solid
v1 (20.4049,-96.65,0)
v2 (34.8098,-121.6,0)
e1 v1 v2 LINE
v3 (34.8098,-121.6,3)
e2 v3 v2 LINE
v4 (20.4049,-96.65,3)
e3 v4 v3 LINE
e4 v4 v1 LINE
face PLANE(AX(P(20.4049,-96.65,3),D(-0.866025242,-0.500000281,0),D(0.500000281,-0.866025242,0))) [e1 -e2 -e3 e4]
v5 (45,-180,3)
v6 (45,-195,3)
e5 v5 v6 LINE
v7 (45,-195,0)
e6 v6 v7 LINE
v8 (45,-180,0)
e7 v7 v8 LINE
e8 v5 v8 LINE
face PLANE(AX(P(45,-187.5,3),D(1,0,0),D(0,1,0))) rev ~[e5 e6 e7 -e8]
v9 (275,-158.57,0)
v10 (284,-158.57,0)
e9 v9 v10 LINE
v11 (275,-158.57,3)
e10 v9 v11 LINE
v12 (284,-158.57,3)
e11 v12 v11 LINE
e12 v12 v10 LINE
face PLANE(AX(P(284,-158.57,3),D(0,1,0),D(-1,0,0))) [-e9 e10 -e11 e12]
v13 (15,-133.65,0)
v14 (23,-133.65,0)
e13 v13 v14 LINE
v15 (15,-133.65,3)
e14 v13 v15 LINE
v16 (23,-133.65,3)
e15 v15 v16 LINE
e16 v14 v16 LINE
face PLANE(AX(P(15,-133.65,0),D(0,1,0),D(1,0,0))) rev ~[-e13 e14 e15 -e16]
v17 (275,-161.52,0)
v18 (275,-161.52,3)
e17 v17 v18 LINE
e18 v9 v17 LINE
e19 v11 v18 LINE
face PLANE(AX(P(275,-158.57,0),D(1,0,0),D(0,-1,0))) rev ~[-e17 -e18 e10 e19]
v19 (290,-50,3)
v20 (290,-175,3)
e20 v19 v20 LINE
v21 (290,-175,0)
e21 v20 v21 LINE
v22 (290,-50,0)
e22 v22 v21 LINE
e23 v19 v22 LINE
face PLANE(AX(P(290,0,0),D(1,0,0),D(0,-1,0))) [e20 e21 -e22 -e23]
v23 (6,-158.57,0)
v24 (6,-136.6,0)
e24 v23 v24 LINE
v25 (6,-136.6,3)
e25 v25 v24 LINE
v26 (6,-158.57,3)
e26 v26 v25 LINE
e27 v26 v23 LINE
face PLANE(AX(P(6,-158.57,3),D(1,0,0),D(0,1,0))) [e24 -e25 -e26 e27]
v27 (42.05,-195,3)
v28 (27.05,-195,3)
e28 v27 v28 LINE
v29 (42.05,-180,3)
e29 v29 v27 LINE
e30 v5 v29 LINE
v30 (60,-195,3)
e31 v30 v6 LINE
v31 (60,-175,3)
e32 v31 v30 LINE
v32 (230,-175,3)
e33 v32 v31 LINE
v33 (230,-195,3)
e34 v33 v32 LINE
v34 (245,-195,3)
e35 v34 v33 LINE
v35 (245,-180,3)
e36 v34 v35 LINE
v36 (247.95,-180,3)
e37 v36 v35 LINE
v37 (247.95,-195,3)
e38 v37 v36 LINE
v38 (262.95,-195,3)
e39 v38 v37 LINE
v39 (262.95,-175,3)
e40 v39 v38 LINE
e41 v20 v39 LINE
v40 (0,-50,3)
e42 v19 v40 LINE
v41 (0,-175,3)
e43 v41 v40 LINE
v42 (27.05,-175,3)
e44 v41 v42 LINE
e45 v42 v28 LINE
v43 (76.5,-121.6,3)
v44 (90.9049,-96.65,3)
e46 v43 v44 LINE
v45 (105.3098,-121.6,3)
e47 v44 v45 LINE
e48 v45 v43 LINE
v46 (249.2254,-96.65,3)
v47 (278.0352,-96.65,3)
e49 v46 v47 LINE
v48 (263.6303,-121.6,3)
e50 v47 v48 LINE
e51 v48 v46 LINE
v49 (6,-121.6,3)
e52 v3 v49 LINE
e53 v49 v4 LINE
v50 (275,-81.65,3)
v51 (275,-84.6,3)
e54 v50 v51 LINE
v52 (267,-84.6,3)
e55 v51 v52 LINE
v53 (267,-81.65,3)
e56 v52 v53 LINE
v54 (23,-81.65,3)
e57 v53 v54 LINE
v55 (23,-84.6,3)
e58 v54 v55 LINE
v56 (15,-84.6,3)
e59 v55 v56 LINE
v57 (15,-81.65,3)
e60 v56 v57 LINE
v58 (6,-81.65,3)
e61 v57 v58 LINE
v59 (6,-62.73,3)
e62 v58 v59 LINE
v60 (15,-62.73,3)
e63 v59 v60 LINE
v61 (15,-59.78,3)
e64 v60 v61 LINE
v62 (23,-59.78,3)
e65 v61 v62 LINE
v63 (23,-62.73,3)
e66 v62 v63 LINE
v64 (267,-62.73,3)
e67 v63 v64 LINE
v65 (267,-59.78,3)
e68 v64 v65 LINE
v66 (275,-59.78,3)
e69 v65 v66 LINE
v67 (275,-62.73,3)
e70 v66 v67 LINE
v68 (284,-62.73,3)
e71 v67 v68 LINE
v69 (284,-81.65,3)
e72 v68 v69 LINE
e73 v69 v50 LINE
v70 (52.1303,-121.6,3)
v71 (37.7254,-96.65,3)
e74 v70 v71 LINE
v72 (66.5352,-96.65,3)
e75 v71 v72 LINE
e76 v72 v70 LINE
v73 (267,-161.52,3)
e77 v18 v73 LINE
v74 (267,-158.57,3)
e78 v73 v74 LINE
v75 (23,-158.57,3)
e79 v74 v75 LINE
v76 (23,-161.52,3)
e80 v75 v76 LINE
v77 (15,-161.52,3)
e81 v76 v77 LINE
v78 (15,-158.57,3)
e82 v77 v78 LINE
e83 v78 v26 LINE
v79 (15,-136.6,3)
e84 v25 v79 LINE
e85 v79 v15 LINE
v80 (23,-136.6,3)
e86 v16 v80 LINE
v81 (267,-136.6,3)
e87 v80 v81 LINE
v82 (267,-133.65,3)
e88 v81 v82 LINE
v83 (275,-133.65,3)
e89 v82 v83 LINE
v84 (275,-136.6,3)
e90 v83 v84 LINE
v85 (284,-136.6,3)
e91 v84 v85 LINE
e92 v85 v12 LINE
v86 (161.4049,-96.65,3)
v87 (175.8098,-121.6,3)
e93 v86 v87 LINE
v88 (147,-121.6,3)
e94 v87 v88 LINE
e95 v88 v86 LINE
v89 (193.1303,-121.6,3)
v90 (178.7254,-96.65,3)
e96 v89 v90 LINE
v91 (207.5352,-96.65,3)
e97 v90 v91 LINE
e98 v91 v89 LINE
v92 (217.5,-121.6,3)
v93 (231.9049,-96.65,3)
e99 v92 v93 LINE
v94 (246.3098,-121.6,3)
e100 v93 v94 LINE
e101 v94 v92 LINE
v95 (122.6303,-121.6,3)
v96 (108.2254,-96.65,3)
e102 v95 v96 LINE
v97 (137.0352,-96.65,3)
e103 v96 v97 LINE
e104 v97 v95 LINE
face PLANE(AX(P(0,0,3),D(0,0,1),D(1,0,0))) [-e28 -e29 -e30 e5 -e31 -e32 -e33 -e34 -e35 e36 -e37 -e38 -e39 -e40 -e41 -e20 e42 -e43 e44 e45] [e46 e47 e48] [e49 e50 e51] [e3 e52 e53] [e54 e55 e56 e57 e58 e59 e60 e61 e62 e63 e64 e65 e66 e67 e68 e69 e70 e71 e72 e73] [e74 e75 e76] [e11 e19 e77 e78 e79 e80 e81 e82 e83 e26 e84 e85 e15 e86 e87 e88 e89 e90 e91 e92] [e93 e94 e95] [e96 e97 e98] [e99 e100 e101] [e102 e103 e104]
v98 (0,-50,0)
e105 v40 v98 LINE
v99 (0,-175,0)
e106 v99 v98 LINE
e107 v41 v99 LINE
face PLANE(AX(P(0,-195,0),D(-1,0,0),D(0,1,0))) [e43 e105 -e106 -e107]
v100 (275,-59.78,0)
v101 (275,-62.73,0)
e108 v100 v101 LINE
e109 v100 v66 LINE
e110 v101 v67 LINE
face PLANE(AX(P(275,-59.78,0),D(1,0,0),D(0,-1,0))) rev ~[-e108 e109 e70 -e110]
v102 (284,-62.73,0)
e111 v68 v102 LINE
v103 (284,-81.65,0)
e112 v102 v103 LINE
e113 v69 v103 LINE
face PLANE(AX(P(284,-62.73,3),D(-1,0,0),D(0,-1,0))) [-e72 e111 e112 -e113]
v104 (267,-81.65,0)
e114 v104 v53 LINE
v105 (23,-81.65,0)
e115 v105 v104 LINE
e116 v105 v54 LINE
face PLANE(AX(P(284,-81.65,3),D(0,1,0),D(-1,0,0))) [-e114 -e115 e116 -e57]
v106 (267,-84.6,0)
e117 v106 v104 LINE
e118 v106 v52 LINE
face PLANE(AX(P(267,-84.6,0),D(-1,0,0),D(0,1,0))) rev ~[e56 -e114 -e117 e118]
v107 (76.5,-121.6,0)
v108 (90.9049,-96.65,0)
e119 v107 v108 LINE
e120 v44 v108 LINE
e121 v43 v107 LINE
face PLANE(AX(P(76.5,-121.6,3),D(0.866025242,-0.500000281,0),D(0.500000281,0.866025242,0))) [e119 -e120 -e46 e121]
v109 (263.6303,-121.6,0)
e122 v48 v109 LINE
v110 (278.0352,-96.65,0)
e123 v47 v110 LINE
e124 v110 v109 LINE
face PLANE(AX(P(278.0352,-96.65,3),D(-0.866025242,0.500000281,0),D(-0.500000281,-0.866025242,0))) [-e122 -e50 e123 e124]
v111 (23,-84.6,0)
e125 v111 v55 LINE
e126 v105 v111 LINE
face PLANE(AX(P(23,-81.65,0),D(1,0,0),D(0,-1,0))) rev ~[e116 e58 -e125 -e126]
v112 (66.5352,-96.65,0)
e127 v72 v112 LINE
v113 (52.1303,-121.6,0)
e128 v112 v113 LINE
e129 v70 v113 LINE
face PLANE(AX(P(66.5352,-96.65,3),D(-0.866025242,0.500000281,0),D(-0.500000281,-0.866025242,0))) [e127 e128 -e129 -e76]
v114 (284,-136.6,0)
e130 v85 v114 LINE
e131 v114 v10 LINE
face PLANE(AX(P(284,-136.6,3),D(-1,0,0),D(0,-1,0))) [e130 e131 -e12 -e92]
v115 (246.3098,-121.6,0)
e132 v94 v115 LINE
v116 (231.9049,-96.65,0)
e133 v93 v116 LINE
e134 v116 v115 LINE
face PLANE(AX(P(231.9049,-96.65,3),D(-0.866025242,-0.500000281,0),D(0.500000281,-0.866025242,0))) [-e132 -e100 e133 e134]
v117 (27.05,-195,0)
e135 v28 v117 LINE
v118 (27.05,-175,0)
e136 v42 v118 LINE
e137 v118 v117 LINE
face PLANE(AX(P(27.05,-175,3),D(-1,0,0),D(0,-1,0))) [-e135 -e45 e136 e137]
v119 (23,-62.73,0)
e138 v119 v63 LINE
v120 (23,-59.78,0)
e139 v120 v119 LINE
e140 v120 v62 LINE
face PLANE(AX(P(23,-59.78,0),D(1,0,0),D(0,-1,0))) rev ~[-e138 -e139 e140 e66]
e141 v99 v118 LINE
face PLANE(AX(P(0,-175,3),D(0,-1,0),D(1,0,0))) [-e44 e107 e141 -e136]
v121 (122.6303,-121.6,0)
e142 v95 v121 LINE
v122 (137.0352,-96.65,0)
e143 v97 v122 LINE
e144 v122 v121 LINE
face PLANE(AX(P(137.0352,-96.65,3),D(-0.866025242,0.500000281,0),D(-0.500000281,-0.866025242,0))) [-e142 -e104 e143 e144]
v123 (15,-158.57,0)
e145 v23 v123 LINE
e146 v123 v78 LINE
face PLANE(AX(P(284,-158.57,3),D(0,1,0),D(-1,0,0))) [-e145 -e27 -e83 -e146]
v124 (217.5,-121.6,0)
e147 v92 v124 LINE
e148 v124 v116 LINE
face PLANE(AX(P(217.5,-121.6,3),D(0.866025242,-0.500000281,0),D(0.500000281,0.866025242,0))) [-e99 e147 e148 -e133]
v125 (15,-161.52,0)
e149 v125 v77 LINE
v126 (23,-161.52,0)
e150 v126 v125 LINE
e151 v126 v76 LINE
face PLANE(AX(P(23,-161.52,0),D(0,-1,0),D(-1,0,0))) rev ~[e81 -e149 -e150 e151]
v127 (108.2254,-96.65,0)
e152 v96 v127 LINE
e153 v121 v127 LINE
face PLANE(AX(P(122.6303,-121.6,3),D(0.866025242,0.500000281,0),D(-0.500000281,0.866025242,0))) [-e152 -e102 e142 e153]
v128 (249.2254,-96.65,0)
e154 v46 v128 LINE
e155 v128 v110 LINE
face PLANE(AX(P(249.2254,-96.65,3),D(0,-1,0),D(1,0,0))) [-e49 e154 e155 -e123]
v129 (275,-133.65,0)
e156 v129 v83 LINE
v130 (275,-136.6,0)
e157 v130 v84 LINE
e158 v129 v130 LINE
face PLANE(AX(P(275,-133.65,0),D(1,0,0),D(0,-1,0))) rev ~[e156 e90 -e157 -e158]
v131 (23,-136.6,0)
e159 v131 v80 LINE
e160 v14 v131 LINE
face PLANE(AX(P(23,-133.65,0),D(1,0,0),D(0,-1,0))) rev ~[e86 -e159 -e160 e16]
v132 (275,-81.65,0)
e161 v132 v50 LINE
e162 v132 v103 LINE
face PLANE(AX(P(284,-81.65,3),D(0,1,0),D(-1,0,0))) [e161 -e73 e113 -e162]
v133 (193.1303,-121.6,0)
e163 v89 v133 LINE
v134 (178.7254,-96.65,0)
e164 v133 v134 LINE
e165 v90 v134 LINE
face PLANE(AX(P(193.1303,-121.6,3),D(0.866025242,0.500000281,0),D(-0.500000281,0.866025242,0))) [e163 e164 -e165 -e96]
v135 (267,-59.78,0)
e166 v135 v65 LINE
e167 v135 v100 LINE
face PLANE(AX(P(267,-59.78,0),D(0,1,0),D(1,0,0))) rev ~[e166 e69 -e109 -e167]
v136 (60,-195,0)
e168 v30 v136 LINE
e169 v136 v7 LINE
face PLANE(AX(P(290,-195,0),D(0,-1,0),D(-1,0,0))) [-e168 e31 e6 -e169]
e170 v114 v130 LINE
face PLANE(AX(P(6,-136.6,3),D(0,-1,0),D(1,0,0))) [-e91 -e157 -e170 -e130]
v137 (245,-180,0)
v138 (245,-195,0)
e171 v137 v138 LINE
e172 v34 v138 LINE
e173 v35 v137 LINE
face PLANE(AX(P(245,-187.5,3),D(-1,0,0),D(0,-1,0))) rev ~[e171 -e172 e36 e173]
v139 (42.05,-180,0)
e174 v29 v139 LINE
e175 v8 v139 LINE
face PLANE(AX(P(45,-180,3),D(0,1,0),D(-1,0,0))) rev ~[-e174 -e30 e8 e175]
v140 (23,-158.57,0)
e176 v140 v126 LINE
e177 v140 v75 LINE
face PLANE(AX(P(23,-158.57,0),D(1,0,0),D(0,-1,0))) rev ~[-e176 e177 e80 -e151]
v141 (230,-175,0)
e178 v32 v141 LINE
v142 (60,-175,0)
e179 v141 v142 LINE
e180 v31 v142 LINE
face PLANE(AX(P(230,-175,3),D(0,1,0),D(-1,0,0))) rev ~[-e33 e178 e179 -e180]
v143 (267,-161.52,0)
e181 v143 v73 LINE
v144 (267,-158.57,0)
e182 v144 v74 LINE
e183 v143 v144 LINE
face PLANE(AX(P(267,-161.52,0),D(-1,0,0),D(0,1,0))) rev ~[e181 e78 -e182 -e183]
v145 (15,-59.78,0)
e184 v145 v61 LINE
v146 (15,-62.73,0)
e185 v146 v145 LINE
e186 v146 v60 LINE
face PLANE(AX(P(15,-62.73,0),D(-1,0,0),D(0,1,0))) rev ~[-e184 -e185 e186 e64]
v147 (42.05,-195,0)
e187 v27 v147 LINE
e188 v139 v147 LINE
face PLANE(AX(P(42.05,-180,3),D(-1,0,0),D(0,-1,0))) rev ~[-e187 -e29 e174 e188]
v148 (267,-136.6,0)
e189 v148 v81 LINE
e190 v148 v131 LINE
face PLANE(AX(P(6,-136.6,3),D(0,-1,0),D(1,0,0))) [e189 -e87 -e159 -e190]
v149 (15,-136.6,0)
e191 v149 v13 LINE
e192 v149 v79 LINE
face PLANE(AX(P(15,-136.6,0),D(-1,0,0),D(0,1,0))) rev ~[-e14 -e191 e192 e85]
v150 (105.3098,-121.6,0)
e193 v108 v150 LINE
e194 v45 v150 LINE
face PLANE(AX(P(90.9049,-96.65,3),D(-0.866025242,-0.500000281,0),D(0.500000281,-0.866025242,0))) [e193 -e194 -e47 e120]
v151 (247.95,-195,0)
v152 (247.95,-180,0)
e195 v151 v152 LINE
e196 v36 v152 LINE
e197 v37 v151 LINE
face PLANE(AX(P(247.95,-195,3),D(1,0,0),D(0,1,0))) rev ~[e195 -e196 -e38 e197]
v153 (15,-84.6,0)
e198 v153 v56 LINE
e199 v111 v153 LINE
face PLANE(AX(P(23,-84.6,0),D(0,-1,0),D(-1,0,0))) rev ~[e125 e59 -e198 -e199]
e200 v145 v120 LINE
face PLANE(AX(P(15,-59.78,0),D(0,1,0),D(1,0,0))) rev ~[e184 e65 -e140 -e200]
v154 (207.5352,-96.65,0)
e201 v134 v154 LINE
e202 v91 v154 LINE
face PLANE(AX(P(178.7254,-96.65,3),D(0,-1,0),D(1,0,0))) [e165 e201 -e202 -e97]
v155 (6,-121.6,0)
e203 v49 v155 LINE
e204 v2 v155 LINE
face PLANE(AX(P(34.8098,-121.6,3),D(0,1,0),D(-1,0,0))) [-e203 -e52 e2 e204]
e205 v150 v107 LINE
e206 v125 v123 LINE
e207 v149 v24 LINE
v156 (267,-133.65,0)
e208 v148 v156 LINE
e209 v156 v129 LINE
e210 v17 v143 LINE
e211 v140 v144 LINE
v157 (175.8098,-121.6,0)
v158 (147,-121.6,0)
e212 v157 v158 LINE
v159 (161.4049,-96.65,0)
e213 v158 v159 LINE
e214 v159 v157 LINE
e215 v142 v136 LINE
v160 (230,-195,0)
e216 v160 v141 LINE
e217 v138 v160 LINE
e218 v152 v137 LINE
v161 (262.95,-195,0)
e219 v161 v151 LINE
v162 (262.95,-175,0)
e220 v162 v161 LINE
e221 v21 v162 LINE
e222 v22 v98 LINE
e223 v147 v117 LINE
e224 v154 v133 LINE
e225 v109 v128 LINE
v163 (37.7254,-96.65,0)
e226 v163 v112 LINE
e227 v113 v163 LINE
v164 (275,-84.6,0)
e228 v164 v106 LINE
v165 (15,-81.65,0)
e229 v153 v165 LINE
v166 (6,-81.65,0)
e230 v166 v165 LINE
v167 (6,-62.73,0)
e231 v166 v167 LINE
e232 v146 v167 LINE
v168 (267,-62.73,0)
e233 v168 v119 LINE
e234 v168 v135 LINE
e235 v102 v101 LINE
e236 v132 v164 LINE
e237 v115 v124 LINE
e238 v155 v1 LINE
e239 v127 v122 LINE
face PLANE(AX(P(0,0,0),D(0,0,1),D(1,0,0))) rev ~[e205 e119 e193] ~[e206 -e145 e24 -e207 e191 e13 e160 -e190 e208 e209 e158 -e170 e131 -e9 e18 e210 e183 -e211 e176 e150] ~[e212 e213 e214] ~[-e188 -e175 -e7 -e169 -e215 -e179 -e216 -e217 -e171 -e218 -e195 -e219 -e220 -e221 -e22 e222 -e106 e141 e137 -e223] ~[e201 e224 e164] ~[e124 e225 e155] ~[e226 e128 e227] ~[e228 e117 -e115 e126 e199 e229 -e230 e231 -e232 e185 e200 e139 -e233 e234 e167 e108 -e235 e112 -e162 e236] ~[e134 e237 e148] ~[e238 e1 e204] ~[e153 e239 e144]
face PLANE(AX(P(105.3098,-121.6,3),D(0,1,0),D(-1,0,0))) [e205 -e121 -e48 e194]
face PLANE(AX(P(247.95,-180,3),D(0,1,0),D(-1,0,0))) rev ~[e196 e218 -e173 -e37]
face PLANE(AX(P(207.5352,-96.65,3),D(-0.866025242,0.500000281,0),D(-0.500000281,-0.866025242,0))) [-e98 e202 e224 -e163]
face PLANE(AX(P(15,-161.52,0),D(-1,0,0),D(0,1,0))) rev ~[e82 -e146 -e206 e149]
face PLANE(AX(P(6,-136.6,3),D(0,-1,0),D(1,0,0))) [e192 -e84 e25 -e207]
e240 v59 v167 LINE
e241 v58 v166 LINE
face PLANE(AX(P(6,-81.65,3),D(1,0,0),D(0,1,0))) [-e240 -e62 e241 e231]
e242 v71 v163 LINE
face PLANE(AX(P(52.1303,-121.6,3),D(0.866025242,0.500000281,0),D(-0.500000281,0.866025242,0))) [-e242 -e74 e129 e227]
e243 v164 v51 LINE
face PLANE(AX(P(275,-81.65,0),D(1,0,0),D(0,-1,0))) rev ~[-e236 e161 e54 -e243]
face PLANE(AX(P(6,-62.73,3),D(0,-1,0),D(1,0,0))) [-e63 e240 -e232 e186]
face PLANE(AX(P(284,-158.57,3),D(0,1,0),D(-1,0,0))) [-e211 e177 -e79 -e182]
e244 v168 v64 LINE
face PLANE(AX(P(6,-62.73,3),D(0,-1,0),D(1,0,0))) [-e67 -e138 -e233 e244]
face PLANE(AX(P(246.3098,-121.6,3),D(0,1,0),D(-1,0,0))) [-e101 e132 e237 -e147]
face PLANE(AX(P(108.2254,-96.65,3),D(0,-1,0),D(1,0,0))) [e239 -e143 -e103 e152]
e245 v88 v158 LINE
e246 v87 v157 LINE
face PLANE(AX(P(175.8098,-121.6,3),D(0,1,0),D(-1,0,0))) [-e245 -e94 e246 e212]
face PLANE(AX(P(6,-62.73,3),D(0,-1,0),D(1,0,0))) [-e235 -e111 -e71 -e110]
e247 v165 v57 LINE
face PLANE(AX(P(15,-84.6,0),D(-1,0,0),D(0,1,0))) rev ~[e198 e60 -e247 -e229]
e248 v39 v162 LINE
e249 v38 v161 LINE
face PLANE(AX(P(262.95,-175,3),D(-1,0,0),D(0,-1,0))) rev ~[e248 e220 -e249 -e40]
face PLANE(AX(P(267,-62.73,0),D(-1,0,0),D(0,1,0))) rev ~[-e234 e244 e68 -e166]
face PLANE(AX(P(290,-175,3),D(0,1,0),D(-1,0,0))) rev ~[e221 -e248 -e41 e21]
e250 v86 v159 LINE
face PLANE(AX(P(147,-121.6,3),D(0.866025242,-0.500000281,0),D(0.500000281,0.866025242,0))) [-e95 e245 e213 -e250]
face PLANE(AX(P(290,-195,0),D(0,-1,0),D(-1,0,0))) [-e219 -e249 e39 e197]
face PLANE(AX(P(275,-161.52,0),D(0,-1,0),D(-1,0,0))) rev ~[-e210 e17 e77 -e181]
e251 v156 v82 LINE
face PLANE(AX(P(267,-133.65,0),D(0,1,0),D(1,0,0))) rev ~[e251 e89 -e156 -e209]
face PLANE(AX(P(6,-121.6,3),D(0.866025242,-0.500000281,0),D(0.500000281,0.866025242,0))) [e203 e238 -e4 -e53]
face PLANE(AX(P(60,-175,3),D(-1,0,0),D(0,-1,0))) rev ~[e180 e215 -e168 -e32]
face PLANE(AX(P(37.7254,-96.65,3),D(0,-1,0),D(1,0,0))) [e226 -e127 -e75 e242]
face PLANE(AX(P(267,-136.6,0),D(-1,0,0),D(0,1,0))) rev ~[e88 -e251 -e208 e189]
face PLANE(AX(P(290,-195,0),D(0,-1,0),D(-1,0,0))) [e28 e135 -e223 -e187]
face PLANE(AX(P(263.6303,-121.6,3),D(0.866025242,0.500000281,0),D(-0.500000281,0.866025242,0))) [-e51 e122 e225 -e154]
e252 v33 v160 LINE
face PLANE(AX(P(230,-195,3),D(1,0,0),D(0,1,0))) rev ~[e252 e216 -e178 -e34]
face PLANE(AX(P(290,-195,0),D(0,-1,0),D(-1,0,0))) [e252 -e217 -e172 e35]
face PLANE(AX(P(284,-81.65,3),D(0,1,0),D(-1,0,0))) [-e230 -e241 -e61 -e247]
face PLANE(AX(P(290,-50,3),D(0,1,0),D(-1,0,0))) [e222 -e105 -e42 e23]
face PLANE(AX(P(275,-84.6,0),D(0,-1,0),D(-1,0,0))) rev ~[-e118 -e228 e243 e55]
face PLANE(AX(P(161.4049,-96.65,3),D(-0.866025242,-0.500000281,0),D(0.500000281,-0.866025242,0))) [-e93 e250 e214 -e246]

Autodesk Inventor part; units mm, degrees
ref_plane "YZ Plane" through (0, 0, 0) normal (1, 0, 0) x (0, 1, 0)
ref_plane "XZ Plane" through (0, 0, 0) normal (0, 1, 0) x (-1, 0, 0)
ref_plane "XY Plane" through (0, 0, 0) normal (0, 0, 1) x (1, 0, 0)
sketch "草圖1" plane through (0, 0, 0) normal (0, 0, 1) x (1, 0, 0)
  line L0 (0, 0) -> (290, 0)
  line L1 (290, 0) -> (290, -195)
  line L2 (290, -195) -> (0, -195)
  line L3 (0, -195) -> (0, 0)
  line L4 (15, -59.78) -> (23, -59.78)
  line L5 (23, -59.78) -> (23, -62.73)
  line L6 (23, -62.73) -> (15, -62.73)
  line L7 (15, -62.73) -> (15, -59.78)
  line L8 (15, -81.65) -> (23, -81.65)
  line L9 (23, -81.65) -> (23, -84.6)
  line L10 (23, -84.6) -> (15, -84.6)
  line L11 (15, -84.6) -> (15, -81.65)
  line L12 (15, -133.65) -> (23, -133.65)
  line L13 (23, -133.65) -> (23, -136.6)
  line L14 (23, -136.6) -> (15, -136.6)
  line L15 (15, -136.6) -> (15, -133.65)
  line L16 (15, -158.57) -> (23, -158.57)
  line L17 (23, -158.57) -> (23, -161.52)
  line L18 (23, -161.52) -> (15, -161.52)
  line L19 (15, -161.52) -> (15, -158.57)
  line L20 (275, -81.65) -> (275, -84.6)
  line L21 (275, -59.78) -> (275, -62.73)
  line L22 (267, -81.65) -> (275, -81.65)
  line L23 (275, -62.73) -> (267, -62.73)
  line L24 (267, -59.78) -> (275, -59.78)
  line L25 (275, -84.6) -> (267, -84.6)
  line L26 (267, -84.6) -> (267, -81.65)
  line L27 (267, -62.73) -> (267, -59.78)
  line L28 (267, -133.65) -> (275, -133.65)
  line L29 (275, -133.65) -> (275, -136.6)
  line L30 (267, -136.6) -> (267, -133.65)
  line L31 (275, -136.6) -> (267, -136.6)
  line L32 (267, -158.57) -> (275, -158.57)
  line L33 (275, -158.57) -> (275, -161.52)
  line L34 (275, -161.52) -> (267, -161.52)
  line L35 (267, -161.52) -> (267, -158.57)
  line L36 (0, -97.5) -> (290, -97.5) construction
  line L37 (19, -84.6) -> (19, -133.65) construction
  line L38 (145, 0) -> (145, -195) construction
  line L39 (23, -83.125) -> (267, -83.125) construction
  point P0 (15, -83.125)
  point P1 (15, -61.255)
  point P2 (15, -135.125)
  point P3 (15, -160.045)
  point P4 (267, -61.255)
  point P5 (267, -135.125)
  point P6 (267, -160.045)
  point P7 (145, -83.125)
  dimension "d0" = 2.95
  dimension "d1" = 8
  dimension "d3" = 52
  dimension "d5" = 195
  dimension "d6" = 290
  dimension "d9" = 252
  dimension "d16" = 12.9
  dimension "d36" = 18.92
  dimension "d37" = 21.97
extrude "擠出1" add sketch "草圖1" along normal blind 3
sketch "草圖3" plane through (0, 0, 3) normal (0, 0, 1) x (1, 0, 0)
  line L0 (290, 0) -> (0, 0) projected
  line L1 (0, 0) -> (290, 0)
  line L2 (290, 0) -> (290, -50)
  line L3 (290, -50) -> (0, -50)
  line L4 (0, -50) -> (0, 0)
  line L5 (290, -195) -> (290, 0) projected
  line L6 (42.05, -195) -> (45, -195)
  line L7 (45, -195) -> (45, -180)
  line L8 (45, -180) -> (42.05, -180)
  line L9 (42.05, -180) -> (42.05, -195)
  line L10 (0, -195) -> (290, -195) projected
  line L11 (245, -195) -> (247.95, -195)
  line L12 (247.95, -195) -> (247.95, -180)
  line L13 (247.95, -180) -> (245, -180)
  line L14 (245, -180) -> (245, -195)
  line L15 (45, -187.5) -> (245, -187.5)
  point P0 (145, -195)
  point P1 (145, -187.5)
  point P2 (247.95, -195)
  dimension "d17" = 50
  dimension "d18" = 200
  dimension "d19" = 2.95
  dimension "d20" = 2.95
  dimension "d22" = 15
  dimension "d23" = 0
extrude "擠出2" cut sketch "草圖3" against normal up to surface (3 mm away) contours L2 L3 L4 L0 | L10 L14 L13 L12 | L6 L9 L8 L7
sketch "草圖6" plane through (0, 0, 3) normal (0, 0, 1) x (1, 0, 0)
  line L0 (6, -136.6) -> (284, -136.6)
  line L1 (284, -136.6) -> (284, -158.57)
  line L2 (284, -158.57) -> (6, -158.57)
  line L3 (6, -158.57) -> (6, -136.6)
  line L4 (23, -136.6) -> (15, -136.6) projected
  line L5 (15, -158.57) -> (23, -158.57) projected
  line L6 (0, -50) -> (0, -195) projected
  line L7 (290, -195) -> (290, -50) projected
  line L8 (6, -81.65) -> (6, -62.73)
  line L9 (6, -62.73) -> (284, -62.73)
  line L10 (284, -62.73) -> (284, -81.65)
  line L11 (284, -81.65) -> (6, -81.65)
  line L12 (15, -81.65) -> (23, -81.65) projected
  line L13 (23, -62.73) -> (15, -62.73) projected
  line L14 (20.4049, -96.65) -> (34.8098, -121.6)
  line L15 (34.8098, -121.6) -> (6, -121.6)
  line L16 (6, -121.6) -> (20.4049, -96.65)
  line L17 (37.7254, -96.65) -> (66.5352, -96.65)
  line L18 (66.5352, -96.65) -> (52.1303, -121.6)
  line L19 (52.1303, -121.6) -> (37.7254, -96.65)
  line L20 (105.3098, -121.6) -> (76.5, -121.6)
  line L21 (76.5, -121.6) -> (90.9049, -96.65)
  line L22 (90.9049, -96.65) -> (105.3098, -121.6)
  line L23 (122.6303, -121.6) -> (108.2254, -96.65)
  line L24 (137.0352, -96.65) -> (122.6303, -121.6)
  line L25 (108.2254, -96.65) -> (137.0352, -96.65)
  line L26 (175.8098, -121.6) -> (147, -121.6)
  line L27 (147, -121.6) -> (161.4049, -96.65)
  line L28 (161.4049, -96.65) -> (175.8098, -121.6)
  line L29 (193.1303, -121.6) -> (178.7254, -96.65)
  line L30 (207.5352, -96.65) -> (193.1303, -121.6)
  line L31 (178.7254, -96.65) -> (207.5352, -96.65)
  line L32 (246.3098, -121.6) -> (217.5, -121.6)
  line L33 (217.5, -121.6) -> (231.9049, -96.65)
  line L34 (231.9049, -96.65) -> (246.3098, -121.6)
  line L35 (263.6303, -121.6) -> (249.2254, -96.65)
  line L36 (278.0352, -96.65) -> (263.6303, -121.6)
  line L37 (249.2254, -96.65) -> (278.0352, -96.65)
  line L38 (45, -195) -> (245, -195) projected
  line L39 (60, -195) -> (230, -195)
  line L40 (230, -195) -> (230, -175)
  line L41 (230, -175) -> (60, -175)
  line L42 (60, -175) -> (60, -195)
  line L43 (262.95, -195) -> (290, -195)
  line L44 (290, -195) -> (290, -175)
  line L45 (290, -175) -> (262.95, -175)
  line L46 (262.95, -175) -> (262.95, -195)
  line L47 (0, -195) -> (42.05, -195) projected
  line L48 (27.05, -195) -> (0, -195)
  line L49 (0, -195) -> (0, -175)
  line L50 (0, -175) -> (27.05, -175)
  line L51 (27.05, -175) -> (27.05, -195)
  line L52 (42.05, -195) -> (42.05, -180) projected
  line L53 (45, -180) -> (45, -195) projected
  line L54 (245, -195) -> (245, -180) projected
  line L55 (247.95, -180) -> (247.95, -195) projected
  point P0 (0, 0)
  point P1 (284, -147.585)
  point P2 (20.4049, -113.2833)
  point P3 (52.1303, -104.9667)
  point P4 (122.6303, -104.9667)
  point P5 (90.9049, -113.2833)
  point P6 (193.1303, -104.9667)
  point P7 (161.4049, -113.2833)
  point P8 (263.6303, -104.9667)
  point P9 (231.9049, -113.2833)
  point P10 (42.05, -187.5)
  dimension "d32" = 6
  dimension "d33" = 6
  dimension "d39" = 15
  dimension "d40" = 15
  dimension "d41" = 15
  dimension "d44" = 70.5
  dimension "d49" = 20
  dimension "d50" = 15
  dimension "d51" = 15
  dimension "d52" = 15
  dimension "d53" = 15
extrude "擠出5" cut sketch "草圖6" against normal up to surface (3 mm away)
sketch "草圖8" plane through (0, 0, 3) normal (0, 0, 1) x (1, 0, 0)
  line L0 (275, -62.73) -> (284, -62.73) projected
  line L1 (284, -62.73) -> (284, -81.65) projected
  line L2 (284, -81.65) -> (275, -81.65) projected
  line L3 (275, -81.65) -> (275, -84.6) projected
  line L4 (275, -84.6) -> (267, -84.6) projected
  line L5 (267, -84.6) -> (267, -81.65) projected
  line L6 (267, -81.65) -> (23, -81.65) projected
  line L7 (23, -81.65) -> (23, -84.6) projected
  line L8 (23, -84.6) -> (15, -84.6) projected
  line L9 (15, -84.6) -> (15, -81.65) projected
  line L10 (15, -81.65) -> (6, -81.65) projected
  line L11 (6, -81.65) -> (6, -62.73) projected
  line L12 (6, -62.73) -> (15, -62.73) projected
  line L13 (15, -62.73) -> (15, -59.78) projected
  line L14 (15, -59.78) -> (23, -59.78) projected
  line L15 (23, -59.78) -> (23, -62.73) projected
  line L16 (23, -62.73) -> (267, -62.73) projected
  line L17 (267, -62.73) -> (267, -59.78) projected
  line L18 (267, -59.78) -> (275, -59.78) projected
  line L19 (275, -59.78) -> (275, -62.73) projected
  line L20 (15, -158.57) -> (6, -158.57) projected
  line L21 (6, -158.57) -> (6, -136.6) projected
  line L22 (6, -136.6) -> (15, -136.6) projected
  line L23 (15, -136.6) -> (15, -133.65) projected
  line L24 (15, -133.65) -> (23, -133.65) projected
  line L25 (23, -133.65) -> (23, -136.6) projected
  line L26 (23, -136.6) -> (267, -136.6) projected
  line L27 (267, -136.6) -> (267, -133.65) projected
  line L28 (267, -133.65) -> (275, -133.65) projected
  line L29 (275, -133.65) -> (275, -136.6) projected
  line L30 (275, -136.6) -> (284, -136.6) projected
  line L31 (284, -136.6) -> (284, -158.57) projected
  line L32 (284, -158.57) -> (275, -158.57) projected
  line L33 (275, -158.57) -> (275, -161.52) projected
  line L34 (275, -161.52) -> (267, -161.52) projected
  line L35 (267, -161.52) -> (267, -158.57) projected
  line L36 (267, -158.57) -> (23, -158.57) projected
  line L37 (23, -158.57) -> (23, -161.52) projected
  line L38 (23, -161.52) -> (15, -161.52) projected
  line L39 (15, -161.52) -> (15, -158.57) projected
  line L40 (52.1303, -121.6) -> (37.7254, -96.65) projected
  line L41 (37.7254, -96.65) -> (66.5352, -96.65) projected
  line L42 (66.5352, -96.65) -> (52.1303, -121.6) projected
  line L43 (207.5352, -96.65) -> (193.1303, -121.6) projected
  line L44 (193.1303, -121.6) -> (178.7254, -96.65) projected
  line L45 (178.7254, -96.65) -> (207.5352, -96.65) projected
  line L46 (108.2254, -96.65) -> (137.0352, -96.65) projected
  line L47 (137.0352, -96.65) -> (122.6303, -121.6) projected
  line L48 (122.6303, -121.6) -> (108.2254, -96.65) projected
  line L49 (249.2254, -96.65) -> (278.0352, -96.65) projected
  line L50 (278.0352, -96.65) -> (263.6303, -121.6) projected
  line L51 (263.6303, -121.6) -> (249.2254, -96.65) projected
  line L52 (90.9049, -96.65) -> (105.3098, -121.6) projected
  line L53 (105.3098, -121.6) -> (76.5, -121.6) projected
  line L54 (76.5, -121.6) -> (90.9049, -96.65) projected
  line L55 (147, -121.6) -> (161.4049, -96.65) projected
  line L56 (161.4049, -96.65) -> (175.8098, -121.6) projected
  line L57 (175.8098, -121.6) -> (147, -121.6) projected
  line L58 (34.8098, -121.6) -> (6, -121.6) projected
  line L59 (6, -121.6) -> (20.4049, -96.65) projected
  line L60 (20.4049, -96.65) -> (34.8098, -121.6) projected
  line L61 (217.5, -121.6) -> (231.9049, -96.65) projected
  line L62 (231.9049, -96.65) -> (246.3098, -121.6) projected
  line L63 (246.3098, -121.6) -> (217.5, -121.6) projected
  line L64 (262.95, -195) -> (262.95, -175) projected
  line L65 (262.95, -175) -> (290, -175) projected
  line L66 (290, -175) -> (290, -50) projected
  line L67 (290, -50) -> (0, -50) projected
  line L68 (0, -50) -> (0, -175) projected
  line L69 (0, -175) -> (27.05, -175) projected
  line L70 (27.05, -175) -> (27.05, -195) projected
  line L71 (27.05, -195) -> (42.05, -195) projected
  line L72 (42.05, -195) -> (42.05, -180) projected
  line L73 (42.05, -180) -> (45, -180) projected
  line L74 (45, -180) -> (45, -195) projected
  line L75 (45, -195) -> (60, -195) projected
  line L76 (60, -195) -> (60, -175) projected
  line L77 (60, -175) -> (230, -175) projected
  line L78 (230, -175) -> (230, -195) projected
  line L79 (230, -195) -> (245, -195) projected
  line L80 (245, -195) -> (245, -180) projected
  line L81 (245, -180) -> (247.95, -180) projected
  line L82 (247.95, -180) -> (247.95, -195) projected
  line L83 (247.95, -195) -> (262.95, -195) projected
  point P0 (0, 0)
